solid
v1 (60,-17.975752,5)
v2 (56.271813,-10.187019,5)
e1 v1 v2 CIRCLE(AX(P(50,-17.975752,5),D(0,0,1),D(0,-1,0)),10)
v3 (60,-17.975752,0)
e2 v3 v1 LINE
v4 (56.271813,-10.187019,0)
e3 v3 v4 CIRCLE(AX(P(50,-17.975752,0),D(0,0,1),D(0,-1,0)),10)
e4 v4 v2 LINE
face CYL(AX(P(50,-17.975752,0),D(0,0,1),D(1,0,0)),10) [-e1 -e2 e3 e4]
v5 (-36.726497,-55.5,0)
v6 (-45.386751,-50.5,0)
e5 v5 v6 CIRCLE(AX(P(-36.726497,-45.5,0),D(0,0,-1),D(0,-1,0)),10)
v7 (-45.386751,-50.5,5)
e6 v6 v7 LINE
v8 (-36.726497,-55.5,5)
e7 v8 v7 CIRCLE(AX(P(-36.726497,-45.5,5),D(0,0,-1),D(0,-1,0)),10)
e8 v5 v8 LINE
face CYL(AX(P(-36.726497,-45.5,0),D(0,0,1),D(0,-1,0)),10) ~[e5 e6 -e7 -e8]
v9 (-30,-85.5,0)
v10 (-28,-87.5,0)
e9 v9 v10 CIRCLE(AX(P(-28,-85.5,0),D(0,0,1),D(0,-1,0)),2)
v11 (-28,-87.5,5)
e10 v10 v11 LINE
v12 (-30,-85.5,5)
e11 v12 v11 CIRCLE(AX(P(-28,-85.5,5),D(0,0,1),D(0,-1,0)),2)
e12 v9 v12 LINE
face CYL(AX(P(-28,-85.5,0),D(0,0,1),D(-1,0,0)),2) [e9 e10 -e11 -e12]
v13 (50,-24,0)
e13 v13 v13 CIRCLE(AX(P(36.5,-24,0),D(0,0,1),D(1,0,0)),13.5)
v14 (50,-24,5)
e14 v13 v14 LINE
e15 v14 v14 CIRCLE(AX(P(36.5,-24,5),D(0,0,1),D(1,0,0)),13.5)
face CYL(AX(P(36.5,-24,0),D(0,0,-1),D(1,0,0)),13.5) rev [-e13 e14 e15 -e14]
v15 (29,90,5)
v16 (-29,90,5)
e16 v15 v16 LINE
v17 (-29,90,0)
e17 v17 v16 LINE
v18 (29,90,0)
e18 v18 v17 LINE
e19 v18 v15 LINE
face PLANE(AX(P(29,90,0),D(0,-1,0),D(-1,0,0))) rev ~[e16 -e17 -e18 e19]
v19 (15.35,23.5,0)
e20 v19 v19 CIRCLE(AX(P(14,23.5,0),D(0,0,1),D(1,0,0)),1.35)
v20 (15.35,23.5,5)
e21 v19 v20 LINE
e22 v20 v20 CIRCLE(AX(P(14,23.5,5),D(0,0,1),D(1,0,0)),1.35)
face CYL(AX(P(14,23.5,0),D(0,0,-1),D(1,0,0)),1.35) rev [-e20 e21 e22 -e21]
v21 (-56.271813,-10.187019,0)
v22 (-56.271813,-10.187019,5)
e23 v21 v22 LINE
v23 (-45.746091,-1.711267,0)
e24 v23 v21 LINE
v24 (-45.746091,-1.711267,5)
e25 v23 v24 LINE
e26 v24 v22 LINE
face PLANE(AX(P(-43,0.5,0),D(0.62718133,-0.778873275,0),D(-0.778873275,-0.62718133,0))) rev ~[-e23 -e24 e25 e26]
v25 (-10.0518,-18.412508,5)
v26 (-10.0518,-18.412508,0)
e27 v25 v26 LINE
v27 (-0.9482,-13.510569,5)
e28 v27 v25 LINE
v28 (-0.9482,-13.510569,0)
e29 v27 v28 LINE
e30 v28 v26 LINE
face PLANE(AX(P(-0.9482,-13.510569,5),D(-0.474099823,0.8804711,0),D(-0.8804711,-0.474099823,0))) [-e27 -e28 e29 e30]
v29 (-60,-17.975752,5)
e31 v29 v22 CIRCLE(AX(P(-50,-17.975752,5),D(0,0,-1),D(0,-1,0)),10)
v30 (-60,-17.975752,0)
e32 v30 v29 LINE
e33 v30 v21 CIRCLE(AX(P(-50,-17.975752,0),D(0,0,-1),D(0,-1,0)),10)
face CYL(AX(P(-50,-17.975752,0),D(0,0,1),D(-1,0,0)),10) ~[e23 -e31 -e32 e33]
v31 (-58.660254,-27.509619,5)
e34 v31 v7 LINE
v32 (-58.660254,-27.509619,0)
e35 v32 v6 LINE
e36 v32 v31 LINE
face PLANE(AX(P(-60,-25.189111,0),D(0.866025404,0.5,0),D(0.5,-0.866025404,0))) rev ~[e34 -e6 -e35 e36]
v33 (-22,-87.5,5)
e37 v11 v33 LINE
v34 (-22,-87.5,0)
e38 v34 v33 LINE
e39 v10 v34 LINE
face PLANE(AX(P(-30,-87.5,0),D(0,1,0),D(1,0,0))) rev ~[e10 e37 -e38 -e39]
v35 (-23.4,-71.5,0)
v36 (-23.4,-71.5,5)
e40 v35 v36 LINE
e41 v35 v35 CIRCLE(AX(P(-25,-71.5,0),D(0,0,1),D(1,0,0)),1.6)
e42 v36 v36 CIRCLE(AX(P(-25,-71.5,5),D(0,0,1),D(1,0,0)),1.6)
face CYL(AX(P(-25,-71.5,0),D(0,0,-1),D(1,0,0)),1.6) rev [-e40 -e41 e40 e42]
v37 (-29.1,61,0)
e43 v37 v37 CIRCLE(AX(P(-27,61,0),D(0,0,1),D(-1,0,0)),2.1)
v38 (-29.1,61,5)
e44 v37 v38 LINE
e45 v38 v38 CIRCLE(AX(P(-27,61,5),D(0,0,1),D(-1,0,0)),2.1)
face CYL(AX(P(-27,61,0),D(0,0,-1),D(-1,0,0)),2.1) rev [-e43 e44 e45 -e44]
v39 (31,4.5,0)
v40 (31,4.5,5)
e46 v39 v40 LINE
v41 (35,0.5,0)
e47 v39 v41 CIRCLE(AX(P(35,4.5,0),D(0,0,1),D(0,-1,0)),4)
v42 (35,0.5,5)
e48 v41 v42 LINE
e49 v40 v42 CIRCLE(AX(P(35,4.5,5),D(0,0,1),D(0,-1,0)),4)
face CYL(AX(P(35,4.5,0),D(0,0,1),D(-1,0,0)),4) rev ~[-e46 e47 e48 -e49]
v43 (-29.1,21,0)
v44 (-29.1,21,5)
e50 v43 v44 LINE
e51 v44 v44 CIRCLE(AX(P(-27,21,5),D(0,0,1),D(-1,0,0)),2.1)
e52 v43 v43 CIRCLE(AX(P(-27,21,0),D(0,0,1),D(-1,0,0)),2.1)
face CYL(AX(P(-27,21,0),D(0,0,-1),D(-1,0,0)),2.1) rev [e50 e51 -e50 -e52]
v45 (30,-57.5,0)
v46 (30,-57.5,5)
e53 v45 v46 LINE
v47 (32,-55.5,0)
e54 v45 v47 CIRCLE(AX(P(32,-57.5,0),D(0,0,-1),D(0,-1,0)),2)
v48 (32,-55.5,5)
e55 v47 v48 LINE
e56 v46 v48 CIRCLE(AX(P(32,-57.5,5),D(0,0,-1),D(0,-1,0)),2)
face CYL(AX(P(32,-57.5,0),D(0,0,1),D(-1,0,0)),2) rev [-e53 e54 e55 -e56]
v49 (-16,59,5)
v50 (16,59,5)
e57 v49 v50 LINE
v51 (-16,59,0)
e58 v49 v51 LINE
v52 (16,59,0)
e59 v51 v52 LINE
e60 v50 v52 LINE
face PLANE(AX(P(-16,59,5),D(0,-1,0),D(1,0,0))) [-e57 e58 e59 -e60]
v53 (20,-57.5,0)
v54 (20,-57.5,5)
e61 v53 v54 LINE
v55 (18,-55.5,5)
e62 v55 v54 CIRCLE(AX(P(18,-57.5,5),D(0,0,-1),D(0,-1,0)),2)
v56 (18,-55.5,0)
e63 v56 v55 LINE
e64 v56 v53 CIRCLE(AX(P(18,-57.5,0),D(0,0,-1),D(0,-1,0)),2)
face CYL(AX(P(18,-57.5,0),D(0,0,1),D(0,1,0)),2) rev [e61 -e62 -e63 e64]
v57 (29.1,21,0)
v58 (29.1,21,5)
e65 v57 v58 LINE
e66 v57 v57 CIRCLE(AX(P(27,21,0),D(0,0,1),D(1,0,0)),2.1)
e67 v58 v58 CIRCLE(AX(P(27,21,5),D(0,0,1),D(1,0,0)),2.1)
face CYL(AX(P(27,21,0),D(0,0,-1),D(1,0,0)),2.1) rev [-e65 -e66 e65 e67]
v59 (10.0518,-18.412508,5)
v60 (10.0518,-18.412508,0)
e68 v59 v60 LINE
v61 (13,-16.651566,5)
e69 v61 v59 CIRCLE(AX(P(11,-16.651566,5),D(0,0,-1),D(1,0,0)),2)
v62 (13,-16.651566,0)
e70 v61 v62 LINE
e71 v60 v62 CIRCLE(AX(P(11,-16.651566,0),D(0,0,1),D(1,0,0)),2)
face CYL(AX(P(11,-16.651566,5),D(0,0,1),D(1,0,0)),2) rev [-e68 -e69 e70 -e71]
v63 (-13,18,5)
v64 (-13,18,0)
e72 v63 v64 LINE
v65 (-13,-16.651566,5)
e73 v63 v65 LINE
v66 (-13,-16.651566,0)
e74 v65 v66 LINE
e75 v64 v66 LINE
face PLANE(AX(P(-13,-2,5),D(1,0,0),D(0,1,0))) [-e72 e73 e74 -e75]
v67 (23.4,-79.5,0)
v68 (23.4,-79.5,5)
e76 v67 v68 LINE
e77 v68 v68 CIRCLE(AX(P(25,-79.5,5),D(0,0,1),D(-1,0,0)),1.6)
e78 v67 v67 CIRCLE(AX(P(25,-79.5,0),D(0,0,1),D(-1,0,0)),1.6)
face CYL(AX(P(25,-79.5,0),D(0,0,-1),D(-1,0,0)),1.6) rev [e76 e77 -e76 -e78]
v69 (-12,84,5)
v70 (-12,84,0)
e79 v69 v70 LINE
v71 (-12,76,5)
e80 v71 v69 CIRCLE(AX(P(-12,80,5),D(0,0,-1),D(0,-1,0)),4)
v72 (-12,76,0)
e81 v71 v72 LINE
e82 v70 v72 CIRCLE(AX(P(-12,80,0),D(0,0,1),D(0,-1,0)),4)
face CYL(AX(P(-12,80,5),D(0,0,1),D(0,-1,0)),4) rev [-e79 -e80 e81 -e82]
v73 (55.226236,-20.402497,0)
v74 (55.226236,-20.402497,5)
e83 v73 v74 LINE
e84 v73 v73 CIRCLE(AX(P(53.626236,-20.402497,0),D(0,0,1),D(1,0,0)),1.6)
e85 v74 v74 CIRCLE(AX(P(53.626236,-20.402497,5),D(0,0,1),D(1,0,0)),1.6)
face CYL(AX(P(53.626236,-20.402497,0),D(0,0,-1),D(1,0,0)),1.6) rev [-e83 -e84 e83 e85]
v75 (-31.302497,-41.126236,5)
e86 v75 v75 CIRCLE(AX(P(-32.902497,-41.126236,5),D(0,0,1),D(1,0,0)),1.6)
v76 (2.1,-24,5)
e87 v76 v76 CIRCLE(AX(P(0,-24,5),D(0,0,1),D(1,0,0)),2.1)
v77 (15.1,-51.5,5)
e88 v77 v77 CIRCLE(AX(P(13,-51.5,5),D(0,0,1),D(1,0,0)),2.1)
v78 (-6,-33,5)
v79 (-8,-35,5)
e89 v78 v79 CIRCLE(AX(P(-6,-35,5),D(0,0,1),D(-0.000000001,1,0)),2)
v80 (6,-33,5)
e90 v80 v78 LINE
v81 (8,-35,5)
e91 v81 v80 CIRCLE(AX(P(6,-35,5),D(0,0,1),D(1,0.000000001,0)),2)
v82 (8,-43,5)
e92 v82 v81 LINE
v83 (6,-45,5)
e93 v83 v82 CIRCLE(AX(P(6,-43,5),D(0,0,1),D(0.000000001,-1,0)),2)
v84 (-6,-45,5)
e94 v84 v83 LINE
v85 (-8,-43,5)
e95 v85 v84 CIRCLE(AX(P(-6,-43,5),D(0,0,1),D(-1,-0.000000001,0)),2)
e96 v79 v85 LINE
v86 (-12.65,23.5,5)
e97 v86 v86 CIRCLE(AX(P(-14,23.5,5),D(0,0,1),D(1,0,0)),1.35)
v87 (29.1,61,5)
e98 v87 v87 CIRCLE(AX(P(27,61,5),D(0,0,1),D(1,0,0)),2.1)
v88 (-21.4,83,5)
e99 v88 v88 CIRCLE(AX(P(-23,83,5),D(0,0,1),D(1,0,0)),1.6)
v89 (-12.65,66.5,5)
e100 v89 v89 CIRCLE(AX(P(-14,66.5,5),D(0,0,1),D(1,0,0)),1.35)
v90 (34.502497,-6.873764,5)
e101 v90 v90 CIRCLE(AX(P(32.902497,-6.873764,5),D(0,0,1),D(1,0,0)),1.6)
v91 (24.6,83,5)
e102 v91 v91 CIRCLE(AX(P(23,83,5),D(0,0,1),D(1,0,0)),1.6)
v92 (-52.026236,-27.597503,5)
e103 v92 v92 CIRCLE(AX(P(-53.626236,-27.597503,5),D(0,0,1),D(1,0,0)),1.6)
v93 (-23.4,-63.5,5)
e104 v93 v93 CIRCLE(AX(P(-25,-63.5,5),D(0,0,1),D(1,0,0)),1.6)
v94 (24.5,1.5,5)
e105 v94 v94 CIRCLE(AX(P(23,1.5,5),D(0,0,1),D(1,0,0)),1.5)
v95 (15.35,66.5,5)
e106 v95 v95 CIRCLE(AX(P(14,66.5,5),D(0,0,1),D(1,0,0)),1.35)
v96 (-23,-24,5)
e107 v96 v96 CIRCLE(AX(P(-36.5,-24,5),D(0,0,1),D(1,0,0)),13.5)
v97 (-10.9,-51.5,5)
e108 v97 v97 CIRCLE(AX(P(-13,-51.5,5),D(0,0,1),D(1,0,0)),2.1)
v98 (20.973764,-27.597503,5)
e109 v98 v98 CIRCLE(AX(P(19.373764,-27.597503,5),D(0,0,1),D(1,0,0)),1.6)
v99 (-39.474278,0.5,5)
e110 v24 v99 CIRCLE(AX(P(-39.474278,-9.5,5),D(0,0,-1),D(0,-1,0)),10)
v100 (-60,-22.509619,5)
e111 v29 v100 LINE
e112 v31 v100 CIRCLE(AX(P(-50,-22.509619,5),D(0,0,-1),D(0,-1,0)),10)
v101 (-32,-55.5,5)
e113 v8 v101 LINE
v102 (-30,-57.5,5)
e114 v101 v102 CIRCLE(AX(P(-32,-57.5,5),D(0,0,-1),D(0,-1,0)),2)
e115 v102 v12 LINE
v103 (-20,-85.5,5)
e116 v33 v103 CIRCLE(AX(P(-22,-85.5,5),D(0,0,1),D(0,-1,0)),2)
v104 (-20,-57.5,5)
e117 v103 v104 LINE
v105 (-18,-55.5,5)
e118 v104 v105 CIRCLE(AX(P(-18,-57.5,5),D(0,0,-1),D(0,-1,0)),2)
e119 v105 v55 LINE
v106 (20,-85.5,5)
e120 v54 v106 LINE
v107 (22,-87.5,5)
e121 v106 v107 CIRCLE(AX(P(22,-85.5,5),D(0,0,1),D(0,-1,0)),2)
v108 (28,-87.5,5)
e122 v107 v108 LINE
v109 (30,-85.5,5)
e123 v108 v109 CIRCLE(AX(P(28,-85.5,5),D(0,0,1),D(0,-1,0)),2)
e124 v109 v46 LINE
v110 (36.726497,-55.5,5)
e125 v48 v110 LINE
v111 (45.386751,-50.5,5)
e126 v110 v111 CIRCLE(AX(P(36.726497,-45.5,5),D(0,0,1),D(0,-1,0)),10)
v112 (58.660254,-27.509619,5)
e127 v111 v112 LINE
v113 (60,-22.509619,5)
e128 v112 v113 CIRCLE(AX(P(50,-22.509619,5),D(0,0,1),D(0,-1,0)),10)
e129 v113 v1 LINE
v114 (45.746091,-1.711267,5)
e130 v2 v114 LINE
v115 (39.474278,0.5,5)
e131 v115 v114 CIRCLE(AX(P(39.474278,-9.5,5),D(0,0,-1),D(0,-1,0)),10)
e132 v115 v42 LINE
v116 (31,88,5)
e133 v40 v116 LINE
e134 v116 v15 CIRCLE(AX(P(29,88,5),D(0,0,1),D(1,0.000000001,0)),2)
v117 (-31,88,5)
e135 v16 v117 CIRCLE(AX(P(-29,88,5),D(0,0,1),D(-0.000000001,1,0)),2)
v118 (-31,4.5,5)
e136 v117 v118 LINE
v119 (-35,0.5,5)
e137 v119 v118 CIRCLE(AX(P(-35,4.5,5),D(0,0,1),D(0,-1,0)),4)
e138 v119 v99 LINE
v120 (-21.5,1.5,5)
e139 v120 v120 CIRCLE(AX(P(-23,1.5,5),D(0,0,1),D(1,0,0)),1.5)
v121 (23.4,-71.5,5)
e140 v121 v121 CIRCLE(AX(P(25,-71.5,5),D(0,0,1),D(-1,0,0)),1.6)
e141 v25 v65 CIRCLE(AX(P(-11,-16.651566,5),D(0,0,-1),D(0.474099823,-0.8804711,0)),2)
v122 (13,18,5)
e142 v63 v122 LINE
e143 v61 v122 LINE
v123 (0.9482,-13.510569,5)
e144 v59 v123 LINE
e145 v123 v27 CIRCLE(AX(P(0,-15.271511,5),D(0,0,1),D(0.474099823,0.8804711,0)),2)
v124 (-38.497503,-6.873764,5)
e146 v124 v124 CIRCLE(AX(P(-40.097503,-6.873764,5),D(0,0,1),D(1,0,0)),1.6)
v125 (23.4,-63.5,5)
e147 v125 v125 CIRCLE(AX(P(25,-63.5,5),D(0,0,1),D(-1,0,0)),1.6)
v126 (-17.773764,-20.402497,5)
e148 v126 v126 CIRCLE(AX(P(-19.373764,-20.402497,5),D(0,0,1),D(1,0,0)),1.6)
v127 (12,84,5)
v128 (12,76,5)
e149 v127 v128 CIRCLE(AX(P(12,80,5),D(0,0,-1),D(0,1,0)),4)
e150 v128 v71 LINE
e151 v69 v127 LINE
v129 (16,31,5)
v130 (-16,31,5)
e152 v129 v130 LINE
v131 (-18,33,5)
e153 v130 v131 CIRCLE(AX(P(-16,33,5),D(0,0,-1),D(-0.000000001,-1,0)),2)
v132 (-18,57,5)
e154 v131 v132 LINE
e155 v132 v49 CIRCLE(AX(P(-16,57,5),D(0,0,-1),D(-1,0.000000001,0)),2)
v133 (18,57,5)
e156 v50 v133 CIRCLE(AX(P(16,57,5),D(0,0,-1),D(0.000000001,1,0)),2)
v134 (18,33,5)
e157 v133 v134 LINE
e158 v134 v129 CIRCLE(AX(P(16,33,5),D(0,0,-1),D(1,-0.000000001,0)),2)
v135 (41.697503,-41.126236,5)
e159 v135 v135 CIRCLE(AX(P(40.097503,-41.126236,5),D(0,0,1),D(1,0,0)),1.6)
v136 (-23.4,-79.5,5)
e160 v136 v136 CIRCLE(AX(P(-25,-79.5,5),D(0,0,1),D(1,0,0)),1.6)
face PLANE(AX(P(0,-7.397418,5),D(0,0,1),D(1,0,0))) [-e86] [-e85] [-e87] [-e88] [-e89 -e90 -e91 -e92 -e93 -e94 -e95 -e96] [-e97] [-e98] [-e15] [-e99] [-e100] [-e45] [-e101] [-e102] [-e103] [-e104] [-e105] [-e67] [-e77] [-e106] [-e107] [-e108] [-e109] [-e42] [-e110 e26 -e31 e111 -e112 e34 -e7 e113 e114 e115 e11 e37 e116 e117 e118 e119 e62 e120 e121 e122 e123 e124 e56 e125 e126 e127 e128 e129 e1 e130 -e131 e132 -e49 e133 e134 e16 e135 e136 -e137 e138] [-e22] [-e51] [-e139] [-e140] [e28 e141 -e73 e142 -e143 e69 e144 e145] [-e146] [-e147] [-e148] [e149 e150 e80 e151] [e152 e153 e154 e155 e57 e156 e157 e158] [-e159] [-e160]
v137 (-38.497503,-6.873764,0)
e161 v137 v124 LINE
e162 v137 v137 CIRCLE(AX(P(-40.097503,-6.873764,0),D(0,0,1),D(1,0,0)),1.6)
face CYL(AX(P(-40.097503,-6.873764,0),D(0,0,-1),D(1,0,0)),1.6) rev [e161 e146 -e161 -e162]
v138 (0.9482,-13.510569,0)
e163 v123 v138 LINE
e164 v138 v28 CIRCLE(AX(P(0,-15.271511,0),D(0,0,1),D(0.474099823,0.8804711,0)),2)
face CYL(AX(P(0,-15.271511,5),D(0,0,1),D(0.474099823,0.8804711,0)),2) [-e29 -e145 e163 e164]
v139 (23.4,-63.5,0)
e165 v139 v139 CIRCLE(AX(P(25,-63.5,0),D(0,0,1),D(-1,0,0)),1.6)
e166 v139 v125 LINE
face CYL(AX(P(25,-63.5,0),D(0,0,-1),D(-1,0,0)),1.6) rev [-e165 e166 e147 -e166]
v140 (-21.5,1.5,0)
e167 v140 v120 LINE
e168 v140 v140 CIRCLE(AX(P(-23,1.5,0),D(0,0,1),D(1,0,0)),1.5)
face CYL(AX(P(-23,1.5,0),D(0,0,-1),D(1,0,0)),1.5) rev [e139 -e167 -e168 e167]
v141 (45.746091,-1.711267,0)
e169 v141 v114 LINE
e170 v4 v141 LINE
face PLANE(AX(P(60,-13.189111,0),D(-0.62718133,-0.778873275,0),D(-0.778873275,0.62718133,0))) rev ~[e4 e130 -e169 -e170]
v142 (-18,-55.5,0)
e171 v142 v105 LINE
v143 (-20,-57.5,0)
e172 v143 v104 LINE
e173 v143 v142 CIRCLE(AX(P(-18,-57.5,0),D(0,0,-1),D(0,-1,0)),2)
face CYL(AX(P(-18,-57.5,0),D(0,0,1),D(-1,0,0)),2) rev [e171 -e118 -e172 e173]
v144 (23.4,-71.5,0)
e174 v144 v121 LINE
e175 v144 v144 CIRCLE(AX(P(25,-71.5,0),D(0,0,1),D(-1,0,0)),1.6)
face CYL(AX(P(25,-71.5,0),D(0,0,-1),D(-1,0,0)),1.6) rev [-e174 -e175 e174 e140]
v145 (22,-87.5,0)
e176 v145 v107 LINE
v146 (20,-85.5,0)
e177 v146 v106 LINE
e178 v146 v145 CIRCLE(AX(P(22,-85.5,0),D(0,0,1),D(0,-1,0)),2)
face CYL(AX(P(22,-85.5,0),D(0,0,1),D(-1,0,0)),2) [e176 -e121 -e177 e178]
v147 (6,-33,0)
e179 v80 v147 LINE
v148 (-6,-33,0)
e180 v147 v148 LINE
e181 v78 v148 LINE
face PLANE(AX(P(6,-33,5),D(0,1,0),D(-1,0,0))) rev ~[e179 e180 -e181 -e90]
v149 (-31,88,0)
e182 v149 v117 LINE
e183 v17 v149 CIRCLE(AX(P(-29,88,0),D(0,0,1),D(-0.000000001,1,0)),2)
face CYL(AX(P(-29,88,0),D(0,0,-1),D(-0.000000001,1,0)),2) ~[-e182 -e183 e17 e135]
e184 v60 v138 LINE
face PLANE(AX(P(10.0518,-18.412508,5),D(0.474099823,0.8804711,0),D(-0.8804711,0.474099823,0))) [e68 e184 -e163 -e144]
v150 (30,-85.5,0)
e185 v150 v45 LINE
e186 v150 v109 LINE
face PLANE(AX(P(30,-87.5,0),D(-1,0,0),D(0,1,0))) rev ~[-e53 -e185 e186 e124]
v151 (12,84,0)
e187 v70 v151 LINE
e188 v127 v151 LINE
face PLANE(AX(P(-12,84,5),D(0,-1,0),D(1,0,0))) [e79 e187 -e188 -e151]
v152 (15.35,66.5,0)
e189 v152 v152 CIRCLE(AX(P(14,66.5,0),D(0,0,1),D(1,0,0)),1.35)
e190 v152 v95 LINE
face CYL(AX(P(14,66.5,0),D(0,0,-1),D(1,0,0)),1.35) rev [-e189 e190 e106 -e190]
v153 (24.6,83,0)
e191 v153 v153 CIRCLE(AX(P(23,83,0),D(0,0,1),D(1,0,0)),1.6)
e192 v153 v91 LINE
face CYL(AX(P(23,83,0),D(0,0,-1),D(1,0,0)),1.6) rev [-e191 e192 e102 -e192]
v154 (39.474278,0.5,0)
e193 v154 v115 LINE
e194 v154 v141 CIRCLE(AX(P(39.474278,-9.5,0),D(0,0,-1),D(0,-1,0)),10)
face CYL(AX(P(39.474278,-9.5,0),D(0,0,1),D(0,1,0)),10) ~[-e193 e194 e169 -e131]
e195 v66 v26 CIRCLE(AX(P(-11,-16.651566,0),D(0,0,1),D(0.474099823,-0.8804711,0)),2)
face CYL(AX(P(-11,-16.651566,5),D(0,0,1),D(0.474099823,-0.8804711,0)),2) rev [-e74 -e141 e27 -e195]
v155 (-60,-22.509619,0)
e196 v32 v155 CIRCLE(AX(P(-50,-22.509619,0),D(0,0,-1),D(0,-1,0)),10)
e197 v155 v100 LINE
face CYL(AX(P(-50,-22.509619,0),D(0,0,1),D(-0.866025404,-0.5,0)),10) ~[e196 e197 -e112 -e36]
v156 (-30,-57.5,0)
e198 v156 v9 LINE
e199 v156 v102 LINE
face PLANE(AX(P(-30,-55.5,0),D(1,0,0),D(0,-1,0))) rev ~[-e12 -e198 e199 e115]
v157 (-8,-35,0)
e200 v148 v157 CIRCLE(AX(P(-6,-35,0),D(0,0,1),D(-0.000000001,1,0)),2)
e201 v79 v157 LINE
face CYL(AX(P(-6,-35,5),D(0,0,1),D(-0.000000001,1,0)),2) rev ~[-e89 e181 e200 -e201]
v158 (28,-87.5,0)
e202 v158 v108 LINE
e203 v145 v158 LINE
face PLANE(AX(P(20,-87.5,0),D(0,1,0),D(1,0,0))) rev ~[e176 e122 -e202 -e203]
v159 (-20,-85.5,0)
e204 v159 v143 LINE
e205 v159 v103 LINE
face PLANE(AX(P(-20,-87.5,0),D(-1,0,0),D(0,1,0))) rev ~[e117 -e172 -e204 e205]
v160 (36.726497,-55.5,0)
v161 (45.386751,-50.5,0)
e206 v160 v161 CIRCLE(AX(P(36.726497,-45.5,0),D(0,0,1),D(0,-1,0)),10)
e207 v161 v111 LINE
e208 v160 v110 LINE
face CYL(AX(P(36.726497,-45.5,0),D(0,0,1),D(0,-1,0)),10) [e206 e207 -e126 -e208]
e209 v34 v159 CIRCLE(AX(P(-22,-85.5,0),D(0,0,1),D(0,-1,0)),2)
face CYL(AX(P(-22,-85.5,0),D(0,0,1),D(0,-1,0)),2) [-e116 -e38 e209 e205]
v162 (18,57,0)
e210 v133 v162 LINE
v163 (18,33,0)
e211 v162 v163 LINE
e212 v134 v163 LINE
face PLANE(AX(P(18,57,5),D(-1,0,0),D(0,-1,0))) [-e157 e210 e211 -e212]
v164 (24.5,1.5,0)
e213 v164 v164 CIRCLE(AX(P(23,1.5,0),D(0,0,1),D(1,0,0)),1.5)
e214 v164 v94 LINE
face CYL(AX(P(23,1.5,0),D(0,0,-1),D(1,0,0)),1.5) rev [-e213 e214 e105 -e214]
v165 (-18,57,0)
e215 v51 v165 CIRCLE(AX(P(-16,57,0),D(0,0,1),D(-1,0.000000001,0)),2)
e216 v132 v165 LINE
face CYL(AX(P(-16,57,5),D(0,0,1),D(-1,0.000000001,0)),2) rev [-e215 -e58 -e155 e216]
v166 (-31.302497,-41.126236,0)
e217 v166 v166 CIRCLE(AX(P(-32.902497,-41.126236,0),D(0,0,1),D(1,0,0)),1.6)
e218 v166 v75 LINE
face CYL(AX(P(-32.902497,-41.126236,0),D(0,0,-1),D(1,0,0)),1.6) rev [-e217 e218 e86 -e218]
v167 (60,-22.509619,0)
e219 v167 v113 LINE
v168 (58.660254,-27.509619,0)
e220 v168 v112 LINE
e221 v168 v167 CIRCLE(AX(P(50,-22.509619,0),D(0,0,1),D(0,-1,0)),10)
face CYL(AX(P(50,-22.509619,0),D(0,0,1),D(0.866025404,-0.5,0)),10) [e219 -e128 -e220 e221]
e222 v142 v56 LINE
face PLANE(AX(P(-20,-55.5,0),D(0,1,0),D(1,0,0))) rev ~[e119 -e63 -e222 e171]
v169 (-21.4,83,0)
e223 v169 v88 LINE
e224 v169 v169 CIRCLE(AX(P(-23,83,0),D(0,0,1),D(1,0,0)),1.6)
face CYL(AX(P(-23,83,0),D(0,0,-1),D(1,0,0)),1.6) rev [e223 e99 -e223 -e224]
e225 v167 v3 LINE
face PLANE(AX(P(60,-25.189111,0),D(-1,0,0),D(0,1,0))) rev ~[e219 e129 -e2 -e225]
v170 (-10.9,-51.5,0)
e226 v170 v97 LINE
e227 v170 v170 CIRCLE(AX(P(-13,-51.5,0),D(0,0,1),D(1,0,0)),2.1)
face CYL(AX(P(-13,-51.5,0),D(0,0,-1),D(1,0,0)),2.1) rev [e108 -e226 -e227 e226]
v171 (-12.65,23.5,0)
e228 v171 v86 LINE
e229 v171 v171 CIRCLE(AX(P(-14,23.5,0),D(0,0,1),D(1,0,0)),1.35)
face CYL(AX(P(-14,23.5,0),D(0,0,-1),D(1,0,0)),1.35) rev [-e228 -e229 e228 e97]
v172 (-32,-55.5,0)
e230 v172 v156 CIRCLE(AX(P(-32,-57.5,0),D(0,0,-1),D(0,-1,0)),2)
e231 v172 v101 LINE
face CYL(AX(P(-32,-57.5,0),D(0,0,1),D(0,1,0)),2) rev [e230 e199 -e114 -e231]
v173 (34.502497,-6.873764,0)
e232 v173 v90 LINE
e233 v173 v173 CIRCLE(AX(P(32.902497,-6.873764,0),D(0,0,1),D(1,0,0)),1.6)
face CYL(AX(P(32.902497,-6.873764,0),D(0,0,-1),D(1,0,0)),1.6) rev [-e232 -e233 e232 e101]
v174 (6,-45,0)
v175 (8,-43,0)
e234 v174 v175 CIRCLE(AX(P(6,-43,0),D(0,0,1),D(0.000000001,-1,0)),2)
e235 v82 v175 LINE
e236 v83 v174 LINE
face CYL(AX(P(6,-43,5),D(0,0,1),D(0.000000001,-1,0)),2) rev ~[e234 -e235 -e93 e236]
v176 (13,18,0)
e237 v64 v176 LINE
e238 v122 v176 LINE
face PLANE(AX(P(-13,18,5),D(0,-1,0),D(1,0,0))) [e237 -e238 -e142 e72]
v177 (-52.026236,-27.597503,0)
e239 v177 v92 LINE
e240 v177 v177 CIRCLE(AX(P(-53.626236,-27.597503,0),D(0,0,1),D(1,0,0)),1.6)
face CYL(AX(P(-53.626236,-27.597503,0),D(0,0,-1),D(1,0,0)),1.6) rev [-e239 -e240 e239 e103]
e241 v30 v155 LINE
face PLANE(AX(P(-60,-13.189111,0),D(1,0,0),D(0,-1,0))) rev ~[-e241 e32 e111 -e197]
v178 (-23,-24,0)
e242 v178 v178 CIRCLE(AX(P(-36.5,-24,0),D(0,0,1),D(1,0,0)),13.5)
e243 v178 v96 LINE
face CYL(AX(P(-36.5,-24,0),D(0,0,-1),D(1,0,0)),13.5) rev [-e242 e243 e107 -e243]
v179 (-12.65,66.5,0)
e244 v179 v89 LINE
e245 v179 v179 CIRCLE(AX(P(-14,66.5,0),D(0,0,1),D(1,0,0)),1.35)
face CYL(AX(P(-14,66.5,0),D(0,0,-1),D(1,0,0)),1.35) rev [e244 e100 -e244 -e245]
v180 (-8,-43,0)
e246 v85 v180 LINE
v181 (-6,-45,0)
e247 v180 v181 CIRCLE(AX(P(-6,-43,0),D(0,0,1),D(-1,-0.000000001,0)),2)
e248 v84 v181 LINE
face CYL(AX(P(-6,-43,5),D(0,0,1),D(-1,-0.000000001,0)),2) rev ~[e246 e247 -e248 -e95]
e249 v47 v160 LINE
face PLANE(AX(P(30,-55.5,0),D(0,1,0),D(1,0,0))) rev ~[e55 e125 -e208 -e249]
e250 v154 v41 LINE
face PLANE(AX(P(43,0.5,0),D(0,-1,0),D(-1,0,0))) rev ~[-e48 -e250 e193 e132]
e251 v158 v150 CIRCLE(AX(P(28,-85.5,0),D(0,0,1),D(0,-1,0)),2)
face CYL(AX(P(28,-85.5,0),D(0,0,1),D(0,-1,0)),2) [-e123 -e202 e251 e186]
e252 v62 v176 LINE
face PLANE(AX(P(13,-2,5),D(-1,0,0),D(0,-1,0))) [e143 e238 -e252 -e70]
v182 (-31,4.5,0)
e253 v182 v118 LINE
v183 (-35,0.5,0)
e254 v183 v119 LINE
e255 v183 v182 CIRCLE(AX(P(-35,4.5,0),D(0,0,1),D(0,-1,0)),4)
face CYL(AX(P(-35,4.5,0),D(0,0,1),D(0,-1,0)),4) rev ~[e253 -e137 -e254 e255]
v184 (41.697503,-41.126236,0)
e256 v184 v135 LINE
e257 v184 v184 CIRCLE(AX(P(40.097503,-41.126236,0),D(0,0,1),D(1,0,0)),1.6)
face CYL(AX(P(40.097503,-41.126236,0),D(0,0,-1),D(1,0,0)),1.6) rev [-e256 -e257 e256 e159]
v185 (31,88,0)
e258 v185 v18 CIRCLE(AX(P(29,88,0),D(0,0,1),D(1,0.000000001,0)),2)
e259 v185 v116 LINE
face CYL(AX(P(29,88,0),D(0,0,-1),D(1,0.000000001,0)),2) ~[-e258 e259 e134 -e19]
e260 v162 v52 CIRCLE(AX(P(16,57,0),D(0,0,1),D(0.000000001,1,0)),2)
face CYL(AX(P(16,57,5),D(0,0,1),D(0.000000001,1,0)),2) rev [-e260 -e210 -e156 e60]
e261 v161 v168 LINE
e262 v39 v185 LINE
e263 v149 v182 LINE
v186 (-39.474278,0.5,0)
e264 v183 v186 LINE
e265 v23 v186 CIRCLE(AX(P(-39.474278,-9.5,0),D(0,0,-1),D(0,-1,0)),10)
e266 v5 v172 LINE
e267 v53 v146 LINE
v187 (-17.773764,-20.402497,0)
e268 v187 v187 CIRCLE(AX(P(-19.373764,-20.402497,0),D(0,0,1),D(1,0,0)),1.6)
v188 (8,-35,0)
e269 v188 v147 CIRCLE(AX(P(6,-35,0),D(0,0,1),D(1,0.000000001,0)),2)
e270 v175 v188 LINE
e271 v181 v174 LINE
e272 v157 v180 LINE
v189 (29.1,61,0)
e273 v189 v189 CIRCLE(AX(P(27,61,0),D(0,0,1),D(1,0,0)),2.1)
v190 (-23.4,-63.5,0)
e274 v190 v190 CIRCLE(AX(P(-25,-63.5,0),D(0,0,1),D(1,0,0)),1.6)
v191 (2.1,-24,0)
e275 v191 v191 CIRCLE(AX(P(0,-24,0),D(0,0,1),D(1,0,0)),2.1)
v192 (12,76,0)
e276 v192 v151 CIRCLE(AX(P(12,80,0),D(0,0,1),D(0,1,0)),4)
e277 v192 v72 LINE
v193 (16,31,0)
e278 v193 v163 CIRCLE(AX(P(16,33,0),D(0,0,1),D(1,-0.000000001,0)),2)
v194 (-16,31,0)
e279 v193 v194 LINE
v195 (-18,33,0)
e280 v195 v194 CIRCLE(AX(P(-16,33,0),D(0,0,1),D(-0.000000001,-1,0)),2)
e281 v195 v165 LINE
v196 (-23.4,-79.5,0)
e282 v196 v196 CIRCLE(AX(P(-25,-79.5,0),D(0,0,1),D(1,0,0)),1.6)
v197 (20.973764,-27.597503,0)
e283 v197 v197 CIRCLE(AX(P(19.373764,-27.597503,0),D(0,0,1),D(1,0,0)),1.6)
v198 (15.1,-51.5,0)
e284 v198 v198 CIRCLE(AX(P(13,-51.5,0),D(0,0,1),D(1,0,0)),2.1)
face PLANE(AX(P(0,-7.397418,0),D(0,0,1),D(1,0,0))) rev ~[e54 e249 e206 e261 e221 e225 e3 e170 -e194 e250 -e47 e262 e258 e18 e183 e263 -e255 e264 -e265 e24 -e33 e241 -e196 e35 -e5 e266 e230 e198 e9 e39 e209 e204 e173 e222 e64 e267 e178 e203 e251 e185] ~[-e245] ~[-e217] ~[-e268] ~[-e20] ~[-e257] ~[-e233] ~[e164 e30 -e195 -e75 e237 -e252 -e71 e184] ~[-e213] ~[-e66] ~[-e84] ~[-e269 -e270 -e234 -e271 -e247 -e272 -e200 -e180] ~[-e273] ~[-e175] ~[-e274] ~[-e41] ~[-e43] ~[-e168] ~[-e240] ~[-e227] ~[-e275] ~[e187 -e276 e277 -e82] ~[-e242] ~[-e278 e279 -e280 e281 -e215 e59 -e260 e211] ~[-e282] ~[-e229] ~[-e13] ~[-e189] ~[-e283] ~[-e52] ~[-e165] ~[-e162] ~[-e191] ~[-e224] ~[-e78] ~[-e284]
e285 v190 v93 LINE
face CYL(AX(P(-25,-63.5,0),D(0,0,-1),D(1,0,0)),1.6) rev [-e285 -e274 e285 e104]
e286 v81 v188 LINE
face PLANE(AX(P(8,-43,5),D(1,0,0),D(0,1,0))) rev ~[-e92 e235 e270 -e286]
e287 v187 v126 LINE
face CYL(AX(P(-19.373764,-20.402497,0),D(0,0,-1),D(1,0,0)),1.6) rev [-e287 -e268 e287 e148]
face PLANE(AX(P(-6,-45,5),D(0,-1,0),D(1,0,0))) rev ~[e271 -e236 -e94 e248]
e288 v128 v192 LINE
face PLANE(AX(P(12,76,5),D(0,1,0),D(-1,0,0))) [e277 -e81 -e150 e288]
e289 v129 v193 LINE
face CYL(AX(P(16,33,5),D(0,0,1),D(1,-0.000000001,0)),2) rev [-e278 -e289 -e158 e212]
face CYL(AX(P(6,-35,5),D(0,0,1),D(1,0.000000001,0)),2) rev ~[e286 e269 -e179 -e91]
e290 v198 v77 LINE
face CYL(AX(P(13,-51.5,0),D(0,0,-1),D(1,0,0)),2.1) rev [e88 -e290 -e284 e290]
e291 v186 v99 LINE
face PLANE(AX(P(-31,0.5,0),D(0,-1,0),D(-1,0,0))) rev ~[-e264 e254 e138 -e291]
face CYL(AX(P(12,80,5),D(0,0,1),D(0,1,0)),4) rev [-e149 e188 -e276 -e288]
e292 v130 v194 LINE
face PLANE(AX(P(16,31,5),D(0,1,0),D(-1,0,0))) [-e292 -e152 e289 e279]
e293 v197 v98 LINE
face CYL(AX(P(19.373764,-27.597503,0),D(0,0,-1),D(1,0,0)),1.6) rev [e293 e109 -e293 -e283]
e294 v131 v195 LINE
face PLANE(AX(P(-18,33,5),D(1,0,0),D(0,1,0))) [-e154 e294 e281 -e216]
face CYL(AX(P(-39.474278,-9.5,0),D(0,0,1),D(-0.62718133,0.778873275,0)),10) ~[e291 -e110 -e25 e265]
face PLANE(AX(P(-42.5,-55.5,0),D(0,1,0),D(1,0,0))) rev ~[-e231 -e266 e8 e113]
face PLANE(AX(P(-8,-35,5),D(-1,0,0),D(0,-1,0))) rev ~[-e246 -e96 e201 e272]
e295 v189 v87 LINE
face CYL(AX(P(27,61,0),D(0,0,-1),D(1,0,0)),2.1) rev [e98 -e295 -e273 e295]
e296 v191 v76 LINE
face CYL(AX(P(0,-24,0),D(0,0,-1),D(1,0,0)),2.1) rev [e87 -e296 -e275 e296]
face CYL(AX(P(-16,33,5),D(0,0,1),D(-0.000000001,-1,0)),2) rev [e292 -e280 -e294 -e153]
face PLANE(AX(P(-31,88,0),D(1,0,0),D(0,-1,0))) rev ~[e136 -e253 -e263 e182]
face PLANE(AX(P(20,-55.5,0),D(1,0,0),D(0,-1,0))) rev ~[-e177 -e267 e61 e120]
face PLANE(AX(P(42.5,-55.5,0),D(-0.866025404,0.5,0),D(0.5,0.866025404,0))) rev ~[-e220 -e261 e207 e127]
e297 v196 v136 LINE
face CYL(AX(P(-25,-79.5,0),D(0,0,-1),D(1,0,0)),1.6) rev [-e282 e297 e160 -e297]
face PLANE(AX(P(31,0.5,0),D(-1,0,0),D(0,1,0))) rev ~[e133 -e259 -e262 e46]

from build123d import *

# Parameters (mm, degrees)
SKETCH_1_R          = 13.5
SKETCH_1_R_2        = 1.6
SKETCH_1_R_3        = 2.1
SKETCH_1_R_4        = 1.35
SKETCH_1_R_5        = 1.5
EXTRUDE_1_DEPTH     = 5
FILLET_1_R          = 10
FILLET_2_R          = 4
FILLET_3_R          = 2
CUT_EXTRUDE_1_DEPTH = 109.282039139
SKETCH_3_W          = 26
SKETCH_3_H          = 20
CUT_EXTRUDE_2_DEPTH = 109.282039139


with BuildPart() as part:
    # 草图1 → 凸台-拉伸1 (new body)
    with BuildSketch(Plane.XY):
        with BuildLine():
            Line((-42.5, -55.5), (-30, -55.5))
            Line((-30, -55.5), (-30, -87.5))
            Line((-30, -87.5), (-20, -87.5))
            Line((-20, -87.5), (-20, -55.5))
            Line((-20, -55.5), (20, -55.5))
            Line((20, -55.5), (20, -87.5))
            Line((20, -87.5), (30, -87.5))
            Line((30, -87.5), (30, -55.5))
            Line((30, -55.5), (42.5, -55.5))
            Line((42.5, -55.5), (60, -25.189110868))
            Line((60, -25.189110868), (60, -13.189110868))
            Line((60, -13.189110868), (43, 0.5))
            Line((43, 0.5), (31, 0.5))
            Line((31, 0.5), (31, 88))
            ThreePointArc((31, 88), (30.414213562, 89.414213562), (29, 90))
            Line((29, 90), (-29, 90))
            ThreePointArc((-29, 90), (-30.414213562, 89.414213562), (-31, 88))
            Line((-31, 88), (-31, 0.5))
            Line((-31, 0.5), (-43, 0.5))
            Line((-43, 0.5), (-60, -13.189110868))
            Line((-60, -13.189110868), (-60, -25.189110868))
            Line((-60, -25.189110868), (-42.5, -55.5))
        make_face()
        with Locations((36.5, -24)):
            Circle(SKETCH_1_R, mode=Mode.SUBTRACT)
        with Locations((32.902497054, -6.87376362)):
            Circle(SKETCH_1_R_2, mode=Mode.SUBTRACT)
        with Locations((53.62623638, -20.402497054)):
            Circle(SKETCH_1_R_2, mode=Mode.SUBTRACT)
        with Locations((19.37376362, -27.597502946)):
            Circle(SKETCH_1_R_2, mode=Mode.SUBTRACT)
        with Locations((40.097502946, -41.12623638)):
            Circle(SKETCH_1_R_2, mode=Mode.SUBTRACT)
        with Locations((-36.5, -24)):
            Circle(SKETCH_1_R, mode=Mode.SUBTRACT)
        with Locations((-40.097502946, -6.87376362)):
            Circle(SKETCH_1_R_2, mode=Mode.SUBTRACT)
        with Locations((-19.37376362, -20.402497054)):
            Circle(SKETCH_1_R_2, mode=Mode.SUBTRACT)
        with Locations((-32.902497054, -41.12623638)):
            Circle(SKETCH_1_R_2, mode=Mode.SUBTRACT)
        with Locations((-53.62623638, -27.597502946)):
            Circle(SKETCH_1_R_2, mode=Mode.SUBTRACT)
        with Locations((-13, -51.5)):
            Circle(SKETCH_1_R_3, mode=Mode.SUBTRACT)
        with Locations((13, -51.5)):
            Circle(SKETCH_1_R_3, mode=Mode.SUBTRACT)
        with Locations((0, -24)):
            Circle(SKETCH_1_R_3, mode=Mode.SUBTRACT)
        with Locations((27, 21)):
            Circle(SKETCH_1_R_3, mode=Mode.SUBTRACT)
        with Locations((27, 61)):
            Circle(SKETCH_1_R_3, mode=Mode.SUBTRACT)
        with Locations(Location((-27, 21, 0), (0, 0, 180))):
            Circle(SKETCH_1_R_3, mode=Mode.SUBTRACT)
        with Locations(Location((-27, 61, 0), (0, 0, 180))):
            Circle(SKETCH_1_R_3, mode=Mode.SUBTRACT)
        with Locations((-25, -79.5)):
            Circle(SKETCH_1_R_2, mode=Mode.SUBTRACT)
        with Locations((-25, -63.5)):
            Circle(SKETCH_1_R_2, mode=Mode.SUBTRACT)
        with Locations((-25, -71.5)):
            Circle(SKETCH_1_R_2, mode=Mode.SUBTRACT)
        with Locations(Location((25, -79.5, 0), (0, 0, 180))):
            Circle(SKETCH_1_R_2, mode=Mode.SUBTRACT)
        with Locations(Location((25, -71.5, 0), (0, 0, 180))):
            Circle(SKETCH_1_R_2, mode=Mode.SUBTRACT)
        with Locations(Location((25, -63.5, 0), (0, 0, 180))):
            Circle(SKETCH_1_R_2, mode=Mode.SUBTRACT)
        with Locations((14, 23.5)):
            Circle(SKETCH_1_R_4, mode=Mode.SUBTRACT)
        with Locations((-14, 23.5)):
            Circle(SKETCH_1_R_4, mode=Mode.SUBTRACT)
        with Locations((14, 66.5)):
            Circle(SKETCH_1_R_4, mode=Mode.SUBTRACT)
        with Locations((-14, 66.5)):
            Circle(SKETCH_1_R_4, mode=Mode.SUBTRACT)
        with Locations((-23, 83)):
            Circle(SKETCH_1_R_2, mode=Mode.SUBTRACT)
        with Locations((23, 83)):
            Circle(SKETCH_1_R_2, mode=Mode.SUBTRACT)
        with Locations((23, 1.5)):
            Circle(SKETCH_1_R_5, mode=Mode.SUBTRACT)
        with Locations((-23, 1.5)):
            Circle(SKETCH_1_R_5, mode=Mode.SUBTRACT)
    extrude(amount=EXTRUDE_1_DEPTH)

    # 圆角1
    fillet_1_edges = [part.edges().sort_by_distance(p)[0] for p in [
        (-42.5, -55.5, 2.5),
        (-60, -25.189110868, 2.5),
        (-60, -13.189110868, 2.5),
        (-43, 0.5, 2.5),
        (43, 0.5, 2.5),
        (60, -13.189110868, 2.5),
        (60, -25.189110868, 2.5),
        (42.5, -55.5, 2.5),
    ]]
    fillet(fillet_1_edges, radius=FILLET_1_R)

    # 圆角2
    fillet_2_edges = [part.edges().sort_by_distance(p)[0] for p in [
        (-31, 0.5, 2.5),
        (31, 0.5, 2.5),
    ]]
    fillet(fillet_2_edges, radius=FILLET_2_R)

    # 圆角3
    fillet_3_edges = [part.edges().sort_by_distance(p)[0] for p in [
        (30, -55.5, 2.5),
        (30, -87.5, 2.5),
        (20, -87.5, 2.5),
        (20, -55.5, 2.5),
        (-20, -55.5, 2.5),
        (-20, -87.5, 2.5),
        (-30, -87.5, 2.5),
        (-30, -55.5, 2.5),
    ]]
    fillet(fillet_3_edges, radius=FILLET_3_R)

    # 草图2 → 切除-拉伸1 (cut, through all)
    with BuildSketch(Plane.XY.offset(5)):
        with BuildLine():
            Line((10.051800354, -18.412507883), (0.948199646, -13.51056904))
            ThreePointArc((0.948199646, -13.51056904), (0, -13.27151124), (-0.948199646, -13.51056904))
            Line((-0.948199646, -13.51056904), (-10.051800354, -18.412507883))
            ThreePointArc((-10.051800354, -18.412507883), (-12.025573183, -18.368597903), (-13, -16.651565683))
            Line((-13, -16.651565683), (-13, -2))
            ThreePointArc((-13, -2), (-12.414213562, -0.585786438), (-11, 0))
            Line((-11, 0), (11, 0))
            ThreePointArc((11, 0), (12.414213562, -0.585786438), (13, -2))
            Line((13, -2), (13, -16.651565683))
            ThreePointArc((13, -16.651565683), (12.025573183, -18.368597903), (10.051800354, -18.412507883))
        make_face()
        with BuildLine():
            Line((-8, -35), (-8, -43))
            ThreePointArc((-8, -43), (-7.414213562, -44.414213562), (-6, -45))
            Line((-6, -45), (6, -45))
            ThreePointArc((6, -45), (7.414213562, -44.414213562), (8, -43))
            Line((8, -43), (8, -35))
            ThreePointArc((8, -35), (7.414213562, -33.585786438), (6, -33))
            Line((6, -33), (-6, -33))
            ThreePointArc((-6, -33), (-7.414213562, -33.585786438), (-8, -35))
        make_face()
        with BuildLine():
            Line((-16, 59), (16, 59))
            ThreePointArc((16, 59), (17.414213562, 58.414213562), (18, 57))
            Line((18, 57), (18, 33))
            ThreePointArc((18, 33), (17.414213562, 31.585786438), (16, 31))
            Line((16, 31), (-16, 31))
            ThreePointArc((-16, 31), (-17.414213562, 31.585786438), (-18, 33))
            Line((-18, 33), (-18, 57))
            ThreePointArc((-18, 57), (-17.414213562, 58.414213562), (-16, 59))
        make_face()
        with BuildLine():
            Line((-12, 84), (12, 84))
            ThreePointArc((12, 84), (16, 80), (12, 76))
            Line((12, 76), (-12, 76))
            ThreePointArc((-12, 76), (-16, 80), (-12, 84))
        make_face()
    extrude(amount=-CUT_EXTRUDE_1_DEPTH, mode=Mode.SUBTRACT)

    # 草图3 → 切除-拉伸2 (cut, through all)
    with BuildSketch(Plane.XY.offset(5)):
        with Locations((0, 8)):
            Rectangle(SKETCH_3_W, SKETCH_3_H)
    extrude(amount=-CUT_EXTRUDE_2_DEPTH, mode=Mode.SUBTRACT)


solid = part.part
